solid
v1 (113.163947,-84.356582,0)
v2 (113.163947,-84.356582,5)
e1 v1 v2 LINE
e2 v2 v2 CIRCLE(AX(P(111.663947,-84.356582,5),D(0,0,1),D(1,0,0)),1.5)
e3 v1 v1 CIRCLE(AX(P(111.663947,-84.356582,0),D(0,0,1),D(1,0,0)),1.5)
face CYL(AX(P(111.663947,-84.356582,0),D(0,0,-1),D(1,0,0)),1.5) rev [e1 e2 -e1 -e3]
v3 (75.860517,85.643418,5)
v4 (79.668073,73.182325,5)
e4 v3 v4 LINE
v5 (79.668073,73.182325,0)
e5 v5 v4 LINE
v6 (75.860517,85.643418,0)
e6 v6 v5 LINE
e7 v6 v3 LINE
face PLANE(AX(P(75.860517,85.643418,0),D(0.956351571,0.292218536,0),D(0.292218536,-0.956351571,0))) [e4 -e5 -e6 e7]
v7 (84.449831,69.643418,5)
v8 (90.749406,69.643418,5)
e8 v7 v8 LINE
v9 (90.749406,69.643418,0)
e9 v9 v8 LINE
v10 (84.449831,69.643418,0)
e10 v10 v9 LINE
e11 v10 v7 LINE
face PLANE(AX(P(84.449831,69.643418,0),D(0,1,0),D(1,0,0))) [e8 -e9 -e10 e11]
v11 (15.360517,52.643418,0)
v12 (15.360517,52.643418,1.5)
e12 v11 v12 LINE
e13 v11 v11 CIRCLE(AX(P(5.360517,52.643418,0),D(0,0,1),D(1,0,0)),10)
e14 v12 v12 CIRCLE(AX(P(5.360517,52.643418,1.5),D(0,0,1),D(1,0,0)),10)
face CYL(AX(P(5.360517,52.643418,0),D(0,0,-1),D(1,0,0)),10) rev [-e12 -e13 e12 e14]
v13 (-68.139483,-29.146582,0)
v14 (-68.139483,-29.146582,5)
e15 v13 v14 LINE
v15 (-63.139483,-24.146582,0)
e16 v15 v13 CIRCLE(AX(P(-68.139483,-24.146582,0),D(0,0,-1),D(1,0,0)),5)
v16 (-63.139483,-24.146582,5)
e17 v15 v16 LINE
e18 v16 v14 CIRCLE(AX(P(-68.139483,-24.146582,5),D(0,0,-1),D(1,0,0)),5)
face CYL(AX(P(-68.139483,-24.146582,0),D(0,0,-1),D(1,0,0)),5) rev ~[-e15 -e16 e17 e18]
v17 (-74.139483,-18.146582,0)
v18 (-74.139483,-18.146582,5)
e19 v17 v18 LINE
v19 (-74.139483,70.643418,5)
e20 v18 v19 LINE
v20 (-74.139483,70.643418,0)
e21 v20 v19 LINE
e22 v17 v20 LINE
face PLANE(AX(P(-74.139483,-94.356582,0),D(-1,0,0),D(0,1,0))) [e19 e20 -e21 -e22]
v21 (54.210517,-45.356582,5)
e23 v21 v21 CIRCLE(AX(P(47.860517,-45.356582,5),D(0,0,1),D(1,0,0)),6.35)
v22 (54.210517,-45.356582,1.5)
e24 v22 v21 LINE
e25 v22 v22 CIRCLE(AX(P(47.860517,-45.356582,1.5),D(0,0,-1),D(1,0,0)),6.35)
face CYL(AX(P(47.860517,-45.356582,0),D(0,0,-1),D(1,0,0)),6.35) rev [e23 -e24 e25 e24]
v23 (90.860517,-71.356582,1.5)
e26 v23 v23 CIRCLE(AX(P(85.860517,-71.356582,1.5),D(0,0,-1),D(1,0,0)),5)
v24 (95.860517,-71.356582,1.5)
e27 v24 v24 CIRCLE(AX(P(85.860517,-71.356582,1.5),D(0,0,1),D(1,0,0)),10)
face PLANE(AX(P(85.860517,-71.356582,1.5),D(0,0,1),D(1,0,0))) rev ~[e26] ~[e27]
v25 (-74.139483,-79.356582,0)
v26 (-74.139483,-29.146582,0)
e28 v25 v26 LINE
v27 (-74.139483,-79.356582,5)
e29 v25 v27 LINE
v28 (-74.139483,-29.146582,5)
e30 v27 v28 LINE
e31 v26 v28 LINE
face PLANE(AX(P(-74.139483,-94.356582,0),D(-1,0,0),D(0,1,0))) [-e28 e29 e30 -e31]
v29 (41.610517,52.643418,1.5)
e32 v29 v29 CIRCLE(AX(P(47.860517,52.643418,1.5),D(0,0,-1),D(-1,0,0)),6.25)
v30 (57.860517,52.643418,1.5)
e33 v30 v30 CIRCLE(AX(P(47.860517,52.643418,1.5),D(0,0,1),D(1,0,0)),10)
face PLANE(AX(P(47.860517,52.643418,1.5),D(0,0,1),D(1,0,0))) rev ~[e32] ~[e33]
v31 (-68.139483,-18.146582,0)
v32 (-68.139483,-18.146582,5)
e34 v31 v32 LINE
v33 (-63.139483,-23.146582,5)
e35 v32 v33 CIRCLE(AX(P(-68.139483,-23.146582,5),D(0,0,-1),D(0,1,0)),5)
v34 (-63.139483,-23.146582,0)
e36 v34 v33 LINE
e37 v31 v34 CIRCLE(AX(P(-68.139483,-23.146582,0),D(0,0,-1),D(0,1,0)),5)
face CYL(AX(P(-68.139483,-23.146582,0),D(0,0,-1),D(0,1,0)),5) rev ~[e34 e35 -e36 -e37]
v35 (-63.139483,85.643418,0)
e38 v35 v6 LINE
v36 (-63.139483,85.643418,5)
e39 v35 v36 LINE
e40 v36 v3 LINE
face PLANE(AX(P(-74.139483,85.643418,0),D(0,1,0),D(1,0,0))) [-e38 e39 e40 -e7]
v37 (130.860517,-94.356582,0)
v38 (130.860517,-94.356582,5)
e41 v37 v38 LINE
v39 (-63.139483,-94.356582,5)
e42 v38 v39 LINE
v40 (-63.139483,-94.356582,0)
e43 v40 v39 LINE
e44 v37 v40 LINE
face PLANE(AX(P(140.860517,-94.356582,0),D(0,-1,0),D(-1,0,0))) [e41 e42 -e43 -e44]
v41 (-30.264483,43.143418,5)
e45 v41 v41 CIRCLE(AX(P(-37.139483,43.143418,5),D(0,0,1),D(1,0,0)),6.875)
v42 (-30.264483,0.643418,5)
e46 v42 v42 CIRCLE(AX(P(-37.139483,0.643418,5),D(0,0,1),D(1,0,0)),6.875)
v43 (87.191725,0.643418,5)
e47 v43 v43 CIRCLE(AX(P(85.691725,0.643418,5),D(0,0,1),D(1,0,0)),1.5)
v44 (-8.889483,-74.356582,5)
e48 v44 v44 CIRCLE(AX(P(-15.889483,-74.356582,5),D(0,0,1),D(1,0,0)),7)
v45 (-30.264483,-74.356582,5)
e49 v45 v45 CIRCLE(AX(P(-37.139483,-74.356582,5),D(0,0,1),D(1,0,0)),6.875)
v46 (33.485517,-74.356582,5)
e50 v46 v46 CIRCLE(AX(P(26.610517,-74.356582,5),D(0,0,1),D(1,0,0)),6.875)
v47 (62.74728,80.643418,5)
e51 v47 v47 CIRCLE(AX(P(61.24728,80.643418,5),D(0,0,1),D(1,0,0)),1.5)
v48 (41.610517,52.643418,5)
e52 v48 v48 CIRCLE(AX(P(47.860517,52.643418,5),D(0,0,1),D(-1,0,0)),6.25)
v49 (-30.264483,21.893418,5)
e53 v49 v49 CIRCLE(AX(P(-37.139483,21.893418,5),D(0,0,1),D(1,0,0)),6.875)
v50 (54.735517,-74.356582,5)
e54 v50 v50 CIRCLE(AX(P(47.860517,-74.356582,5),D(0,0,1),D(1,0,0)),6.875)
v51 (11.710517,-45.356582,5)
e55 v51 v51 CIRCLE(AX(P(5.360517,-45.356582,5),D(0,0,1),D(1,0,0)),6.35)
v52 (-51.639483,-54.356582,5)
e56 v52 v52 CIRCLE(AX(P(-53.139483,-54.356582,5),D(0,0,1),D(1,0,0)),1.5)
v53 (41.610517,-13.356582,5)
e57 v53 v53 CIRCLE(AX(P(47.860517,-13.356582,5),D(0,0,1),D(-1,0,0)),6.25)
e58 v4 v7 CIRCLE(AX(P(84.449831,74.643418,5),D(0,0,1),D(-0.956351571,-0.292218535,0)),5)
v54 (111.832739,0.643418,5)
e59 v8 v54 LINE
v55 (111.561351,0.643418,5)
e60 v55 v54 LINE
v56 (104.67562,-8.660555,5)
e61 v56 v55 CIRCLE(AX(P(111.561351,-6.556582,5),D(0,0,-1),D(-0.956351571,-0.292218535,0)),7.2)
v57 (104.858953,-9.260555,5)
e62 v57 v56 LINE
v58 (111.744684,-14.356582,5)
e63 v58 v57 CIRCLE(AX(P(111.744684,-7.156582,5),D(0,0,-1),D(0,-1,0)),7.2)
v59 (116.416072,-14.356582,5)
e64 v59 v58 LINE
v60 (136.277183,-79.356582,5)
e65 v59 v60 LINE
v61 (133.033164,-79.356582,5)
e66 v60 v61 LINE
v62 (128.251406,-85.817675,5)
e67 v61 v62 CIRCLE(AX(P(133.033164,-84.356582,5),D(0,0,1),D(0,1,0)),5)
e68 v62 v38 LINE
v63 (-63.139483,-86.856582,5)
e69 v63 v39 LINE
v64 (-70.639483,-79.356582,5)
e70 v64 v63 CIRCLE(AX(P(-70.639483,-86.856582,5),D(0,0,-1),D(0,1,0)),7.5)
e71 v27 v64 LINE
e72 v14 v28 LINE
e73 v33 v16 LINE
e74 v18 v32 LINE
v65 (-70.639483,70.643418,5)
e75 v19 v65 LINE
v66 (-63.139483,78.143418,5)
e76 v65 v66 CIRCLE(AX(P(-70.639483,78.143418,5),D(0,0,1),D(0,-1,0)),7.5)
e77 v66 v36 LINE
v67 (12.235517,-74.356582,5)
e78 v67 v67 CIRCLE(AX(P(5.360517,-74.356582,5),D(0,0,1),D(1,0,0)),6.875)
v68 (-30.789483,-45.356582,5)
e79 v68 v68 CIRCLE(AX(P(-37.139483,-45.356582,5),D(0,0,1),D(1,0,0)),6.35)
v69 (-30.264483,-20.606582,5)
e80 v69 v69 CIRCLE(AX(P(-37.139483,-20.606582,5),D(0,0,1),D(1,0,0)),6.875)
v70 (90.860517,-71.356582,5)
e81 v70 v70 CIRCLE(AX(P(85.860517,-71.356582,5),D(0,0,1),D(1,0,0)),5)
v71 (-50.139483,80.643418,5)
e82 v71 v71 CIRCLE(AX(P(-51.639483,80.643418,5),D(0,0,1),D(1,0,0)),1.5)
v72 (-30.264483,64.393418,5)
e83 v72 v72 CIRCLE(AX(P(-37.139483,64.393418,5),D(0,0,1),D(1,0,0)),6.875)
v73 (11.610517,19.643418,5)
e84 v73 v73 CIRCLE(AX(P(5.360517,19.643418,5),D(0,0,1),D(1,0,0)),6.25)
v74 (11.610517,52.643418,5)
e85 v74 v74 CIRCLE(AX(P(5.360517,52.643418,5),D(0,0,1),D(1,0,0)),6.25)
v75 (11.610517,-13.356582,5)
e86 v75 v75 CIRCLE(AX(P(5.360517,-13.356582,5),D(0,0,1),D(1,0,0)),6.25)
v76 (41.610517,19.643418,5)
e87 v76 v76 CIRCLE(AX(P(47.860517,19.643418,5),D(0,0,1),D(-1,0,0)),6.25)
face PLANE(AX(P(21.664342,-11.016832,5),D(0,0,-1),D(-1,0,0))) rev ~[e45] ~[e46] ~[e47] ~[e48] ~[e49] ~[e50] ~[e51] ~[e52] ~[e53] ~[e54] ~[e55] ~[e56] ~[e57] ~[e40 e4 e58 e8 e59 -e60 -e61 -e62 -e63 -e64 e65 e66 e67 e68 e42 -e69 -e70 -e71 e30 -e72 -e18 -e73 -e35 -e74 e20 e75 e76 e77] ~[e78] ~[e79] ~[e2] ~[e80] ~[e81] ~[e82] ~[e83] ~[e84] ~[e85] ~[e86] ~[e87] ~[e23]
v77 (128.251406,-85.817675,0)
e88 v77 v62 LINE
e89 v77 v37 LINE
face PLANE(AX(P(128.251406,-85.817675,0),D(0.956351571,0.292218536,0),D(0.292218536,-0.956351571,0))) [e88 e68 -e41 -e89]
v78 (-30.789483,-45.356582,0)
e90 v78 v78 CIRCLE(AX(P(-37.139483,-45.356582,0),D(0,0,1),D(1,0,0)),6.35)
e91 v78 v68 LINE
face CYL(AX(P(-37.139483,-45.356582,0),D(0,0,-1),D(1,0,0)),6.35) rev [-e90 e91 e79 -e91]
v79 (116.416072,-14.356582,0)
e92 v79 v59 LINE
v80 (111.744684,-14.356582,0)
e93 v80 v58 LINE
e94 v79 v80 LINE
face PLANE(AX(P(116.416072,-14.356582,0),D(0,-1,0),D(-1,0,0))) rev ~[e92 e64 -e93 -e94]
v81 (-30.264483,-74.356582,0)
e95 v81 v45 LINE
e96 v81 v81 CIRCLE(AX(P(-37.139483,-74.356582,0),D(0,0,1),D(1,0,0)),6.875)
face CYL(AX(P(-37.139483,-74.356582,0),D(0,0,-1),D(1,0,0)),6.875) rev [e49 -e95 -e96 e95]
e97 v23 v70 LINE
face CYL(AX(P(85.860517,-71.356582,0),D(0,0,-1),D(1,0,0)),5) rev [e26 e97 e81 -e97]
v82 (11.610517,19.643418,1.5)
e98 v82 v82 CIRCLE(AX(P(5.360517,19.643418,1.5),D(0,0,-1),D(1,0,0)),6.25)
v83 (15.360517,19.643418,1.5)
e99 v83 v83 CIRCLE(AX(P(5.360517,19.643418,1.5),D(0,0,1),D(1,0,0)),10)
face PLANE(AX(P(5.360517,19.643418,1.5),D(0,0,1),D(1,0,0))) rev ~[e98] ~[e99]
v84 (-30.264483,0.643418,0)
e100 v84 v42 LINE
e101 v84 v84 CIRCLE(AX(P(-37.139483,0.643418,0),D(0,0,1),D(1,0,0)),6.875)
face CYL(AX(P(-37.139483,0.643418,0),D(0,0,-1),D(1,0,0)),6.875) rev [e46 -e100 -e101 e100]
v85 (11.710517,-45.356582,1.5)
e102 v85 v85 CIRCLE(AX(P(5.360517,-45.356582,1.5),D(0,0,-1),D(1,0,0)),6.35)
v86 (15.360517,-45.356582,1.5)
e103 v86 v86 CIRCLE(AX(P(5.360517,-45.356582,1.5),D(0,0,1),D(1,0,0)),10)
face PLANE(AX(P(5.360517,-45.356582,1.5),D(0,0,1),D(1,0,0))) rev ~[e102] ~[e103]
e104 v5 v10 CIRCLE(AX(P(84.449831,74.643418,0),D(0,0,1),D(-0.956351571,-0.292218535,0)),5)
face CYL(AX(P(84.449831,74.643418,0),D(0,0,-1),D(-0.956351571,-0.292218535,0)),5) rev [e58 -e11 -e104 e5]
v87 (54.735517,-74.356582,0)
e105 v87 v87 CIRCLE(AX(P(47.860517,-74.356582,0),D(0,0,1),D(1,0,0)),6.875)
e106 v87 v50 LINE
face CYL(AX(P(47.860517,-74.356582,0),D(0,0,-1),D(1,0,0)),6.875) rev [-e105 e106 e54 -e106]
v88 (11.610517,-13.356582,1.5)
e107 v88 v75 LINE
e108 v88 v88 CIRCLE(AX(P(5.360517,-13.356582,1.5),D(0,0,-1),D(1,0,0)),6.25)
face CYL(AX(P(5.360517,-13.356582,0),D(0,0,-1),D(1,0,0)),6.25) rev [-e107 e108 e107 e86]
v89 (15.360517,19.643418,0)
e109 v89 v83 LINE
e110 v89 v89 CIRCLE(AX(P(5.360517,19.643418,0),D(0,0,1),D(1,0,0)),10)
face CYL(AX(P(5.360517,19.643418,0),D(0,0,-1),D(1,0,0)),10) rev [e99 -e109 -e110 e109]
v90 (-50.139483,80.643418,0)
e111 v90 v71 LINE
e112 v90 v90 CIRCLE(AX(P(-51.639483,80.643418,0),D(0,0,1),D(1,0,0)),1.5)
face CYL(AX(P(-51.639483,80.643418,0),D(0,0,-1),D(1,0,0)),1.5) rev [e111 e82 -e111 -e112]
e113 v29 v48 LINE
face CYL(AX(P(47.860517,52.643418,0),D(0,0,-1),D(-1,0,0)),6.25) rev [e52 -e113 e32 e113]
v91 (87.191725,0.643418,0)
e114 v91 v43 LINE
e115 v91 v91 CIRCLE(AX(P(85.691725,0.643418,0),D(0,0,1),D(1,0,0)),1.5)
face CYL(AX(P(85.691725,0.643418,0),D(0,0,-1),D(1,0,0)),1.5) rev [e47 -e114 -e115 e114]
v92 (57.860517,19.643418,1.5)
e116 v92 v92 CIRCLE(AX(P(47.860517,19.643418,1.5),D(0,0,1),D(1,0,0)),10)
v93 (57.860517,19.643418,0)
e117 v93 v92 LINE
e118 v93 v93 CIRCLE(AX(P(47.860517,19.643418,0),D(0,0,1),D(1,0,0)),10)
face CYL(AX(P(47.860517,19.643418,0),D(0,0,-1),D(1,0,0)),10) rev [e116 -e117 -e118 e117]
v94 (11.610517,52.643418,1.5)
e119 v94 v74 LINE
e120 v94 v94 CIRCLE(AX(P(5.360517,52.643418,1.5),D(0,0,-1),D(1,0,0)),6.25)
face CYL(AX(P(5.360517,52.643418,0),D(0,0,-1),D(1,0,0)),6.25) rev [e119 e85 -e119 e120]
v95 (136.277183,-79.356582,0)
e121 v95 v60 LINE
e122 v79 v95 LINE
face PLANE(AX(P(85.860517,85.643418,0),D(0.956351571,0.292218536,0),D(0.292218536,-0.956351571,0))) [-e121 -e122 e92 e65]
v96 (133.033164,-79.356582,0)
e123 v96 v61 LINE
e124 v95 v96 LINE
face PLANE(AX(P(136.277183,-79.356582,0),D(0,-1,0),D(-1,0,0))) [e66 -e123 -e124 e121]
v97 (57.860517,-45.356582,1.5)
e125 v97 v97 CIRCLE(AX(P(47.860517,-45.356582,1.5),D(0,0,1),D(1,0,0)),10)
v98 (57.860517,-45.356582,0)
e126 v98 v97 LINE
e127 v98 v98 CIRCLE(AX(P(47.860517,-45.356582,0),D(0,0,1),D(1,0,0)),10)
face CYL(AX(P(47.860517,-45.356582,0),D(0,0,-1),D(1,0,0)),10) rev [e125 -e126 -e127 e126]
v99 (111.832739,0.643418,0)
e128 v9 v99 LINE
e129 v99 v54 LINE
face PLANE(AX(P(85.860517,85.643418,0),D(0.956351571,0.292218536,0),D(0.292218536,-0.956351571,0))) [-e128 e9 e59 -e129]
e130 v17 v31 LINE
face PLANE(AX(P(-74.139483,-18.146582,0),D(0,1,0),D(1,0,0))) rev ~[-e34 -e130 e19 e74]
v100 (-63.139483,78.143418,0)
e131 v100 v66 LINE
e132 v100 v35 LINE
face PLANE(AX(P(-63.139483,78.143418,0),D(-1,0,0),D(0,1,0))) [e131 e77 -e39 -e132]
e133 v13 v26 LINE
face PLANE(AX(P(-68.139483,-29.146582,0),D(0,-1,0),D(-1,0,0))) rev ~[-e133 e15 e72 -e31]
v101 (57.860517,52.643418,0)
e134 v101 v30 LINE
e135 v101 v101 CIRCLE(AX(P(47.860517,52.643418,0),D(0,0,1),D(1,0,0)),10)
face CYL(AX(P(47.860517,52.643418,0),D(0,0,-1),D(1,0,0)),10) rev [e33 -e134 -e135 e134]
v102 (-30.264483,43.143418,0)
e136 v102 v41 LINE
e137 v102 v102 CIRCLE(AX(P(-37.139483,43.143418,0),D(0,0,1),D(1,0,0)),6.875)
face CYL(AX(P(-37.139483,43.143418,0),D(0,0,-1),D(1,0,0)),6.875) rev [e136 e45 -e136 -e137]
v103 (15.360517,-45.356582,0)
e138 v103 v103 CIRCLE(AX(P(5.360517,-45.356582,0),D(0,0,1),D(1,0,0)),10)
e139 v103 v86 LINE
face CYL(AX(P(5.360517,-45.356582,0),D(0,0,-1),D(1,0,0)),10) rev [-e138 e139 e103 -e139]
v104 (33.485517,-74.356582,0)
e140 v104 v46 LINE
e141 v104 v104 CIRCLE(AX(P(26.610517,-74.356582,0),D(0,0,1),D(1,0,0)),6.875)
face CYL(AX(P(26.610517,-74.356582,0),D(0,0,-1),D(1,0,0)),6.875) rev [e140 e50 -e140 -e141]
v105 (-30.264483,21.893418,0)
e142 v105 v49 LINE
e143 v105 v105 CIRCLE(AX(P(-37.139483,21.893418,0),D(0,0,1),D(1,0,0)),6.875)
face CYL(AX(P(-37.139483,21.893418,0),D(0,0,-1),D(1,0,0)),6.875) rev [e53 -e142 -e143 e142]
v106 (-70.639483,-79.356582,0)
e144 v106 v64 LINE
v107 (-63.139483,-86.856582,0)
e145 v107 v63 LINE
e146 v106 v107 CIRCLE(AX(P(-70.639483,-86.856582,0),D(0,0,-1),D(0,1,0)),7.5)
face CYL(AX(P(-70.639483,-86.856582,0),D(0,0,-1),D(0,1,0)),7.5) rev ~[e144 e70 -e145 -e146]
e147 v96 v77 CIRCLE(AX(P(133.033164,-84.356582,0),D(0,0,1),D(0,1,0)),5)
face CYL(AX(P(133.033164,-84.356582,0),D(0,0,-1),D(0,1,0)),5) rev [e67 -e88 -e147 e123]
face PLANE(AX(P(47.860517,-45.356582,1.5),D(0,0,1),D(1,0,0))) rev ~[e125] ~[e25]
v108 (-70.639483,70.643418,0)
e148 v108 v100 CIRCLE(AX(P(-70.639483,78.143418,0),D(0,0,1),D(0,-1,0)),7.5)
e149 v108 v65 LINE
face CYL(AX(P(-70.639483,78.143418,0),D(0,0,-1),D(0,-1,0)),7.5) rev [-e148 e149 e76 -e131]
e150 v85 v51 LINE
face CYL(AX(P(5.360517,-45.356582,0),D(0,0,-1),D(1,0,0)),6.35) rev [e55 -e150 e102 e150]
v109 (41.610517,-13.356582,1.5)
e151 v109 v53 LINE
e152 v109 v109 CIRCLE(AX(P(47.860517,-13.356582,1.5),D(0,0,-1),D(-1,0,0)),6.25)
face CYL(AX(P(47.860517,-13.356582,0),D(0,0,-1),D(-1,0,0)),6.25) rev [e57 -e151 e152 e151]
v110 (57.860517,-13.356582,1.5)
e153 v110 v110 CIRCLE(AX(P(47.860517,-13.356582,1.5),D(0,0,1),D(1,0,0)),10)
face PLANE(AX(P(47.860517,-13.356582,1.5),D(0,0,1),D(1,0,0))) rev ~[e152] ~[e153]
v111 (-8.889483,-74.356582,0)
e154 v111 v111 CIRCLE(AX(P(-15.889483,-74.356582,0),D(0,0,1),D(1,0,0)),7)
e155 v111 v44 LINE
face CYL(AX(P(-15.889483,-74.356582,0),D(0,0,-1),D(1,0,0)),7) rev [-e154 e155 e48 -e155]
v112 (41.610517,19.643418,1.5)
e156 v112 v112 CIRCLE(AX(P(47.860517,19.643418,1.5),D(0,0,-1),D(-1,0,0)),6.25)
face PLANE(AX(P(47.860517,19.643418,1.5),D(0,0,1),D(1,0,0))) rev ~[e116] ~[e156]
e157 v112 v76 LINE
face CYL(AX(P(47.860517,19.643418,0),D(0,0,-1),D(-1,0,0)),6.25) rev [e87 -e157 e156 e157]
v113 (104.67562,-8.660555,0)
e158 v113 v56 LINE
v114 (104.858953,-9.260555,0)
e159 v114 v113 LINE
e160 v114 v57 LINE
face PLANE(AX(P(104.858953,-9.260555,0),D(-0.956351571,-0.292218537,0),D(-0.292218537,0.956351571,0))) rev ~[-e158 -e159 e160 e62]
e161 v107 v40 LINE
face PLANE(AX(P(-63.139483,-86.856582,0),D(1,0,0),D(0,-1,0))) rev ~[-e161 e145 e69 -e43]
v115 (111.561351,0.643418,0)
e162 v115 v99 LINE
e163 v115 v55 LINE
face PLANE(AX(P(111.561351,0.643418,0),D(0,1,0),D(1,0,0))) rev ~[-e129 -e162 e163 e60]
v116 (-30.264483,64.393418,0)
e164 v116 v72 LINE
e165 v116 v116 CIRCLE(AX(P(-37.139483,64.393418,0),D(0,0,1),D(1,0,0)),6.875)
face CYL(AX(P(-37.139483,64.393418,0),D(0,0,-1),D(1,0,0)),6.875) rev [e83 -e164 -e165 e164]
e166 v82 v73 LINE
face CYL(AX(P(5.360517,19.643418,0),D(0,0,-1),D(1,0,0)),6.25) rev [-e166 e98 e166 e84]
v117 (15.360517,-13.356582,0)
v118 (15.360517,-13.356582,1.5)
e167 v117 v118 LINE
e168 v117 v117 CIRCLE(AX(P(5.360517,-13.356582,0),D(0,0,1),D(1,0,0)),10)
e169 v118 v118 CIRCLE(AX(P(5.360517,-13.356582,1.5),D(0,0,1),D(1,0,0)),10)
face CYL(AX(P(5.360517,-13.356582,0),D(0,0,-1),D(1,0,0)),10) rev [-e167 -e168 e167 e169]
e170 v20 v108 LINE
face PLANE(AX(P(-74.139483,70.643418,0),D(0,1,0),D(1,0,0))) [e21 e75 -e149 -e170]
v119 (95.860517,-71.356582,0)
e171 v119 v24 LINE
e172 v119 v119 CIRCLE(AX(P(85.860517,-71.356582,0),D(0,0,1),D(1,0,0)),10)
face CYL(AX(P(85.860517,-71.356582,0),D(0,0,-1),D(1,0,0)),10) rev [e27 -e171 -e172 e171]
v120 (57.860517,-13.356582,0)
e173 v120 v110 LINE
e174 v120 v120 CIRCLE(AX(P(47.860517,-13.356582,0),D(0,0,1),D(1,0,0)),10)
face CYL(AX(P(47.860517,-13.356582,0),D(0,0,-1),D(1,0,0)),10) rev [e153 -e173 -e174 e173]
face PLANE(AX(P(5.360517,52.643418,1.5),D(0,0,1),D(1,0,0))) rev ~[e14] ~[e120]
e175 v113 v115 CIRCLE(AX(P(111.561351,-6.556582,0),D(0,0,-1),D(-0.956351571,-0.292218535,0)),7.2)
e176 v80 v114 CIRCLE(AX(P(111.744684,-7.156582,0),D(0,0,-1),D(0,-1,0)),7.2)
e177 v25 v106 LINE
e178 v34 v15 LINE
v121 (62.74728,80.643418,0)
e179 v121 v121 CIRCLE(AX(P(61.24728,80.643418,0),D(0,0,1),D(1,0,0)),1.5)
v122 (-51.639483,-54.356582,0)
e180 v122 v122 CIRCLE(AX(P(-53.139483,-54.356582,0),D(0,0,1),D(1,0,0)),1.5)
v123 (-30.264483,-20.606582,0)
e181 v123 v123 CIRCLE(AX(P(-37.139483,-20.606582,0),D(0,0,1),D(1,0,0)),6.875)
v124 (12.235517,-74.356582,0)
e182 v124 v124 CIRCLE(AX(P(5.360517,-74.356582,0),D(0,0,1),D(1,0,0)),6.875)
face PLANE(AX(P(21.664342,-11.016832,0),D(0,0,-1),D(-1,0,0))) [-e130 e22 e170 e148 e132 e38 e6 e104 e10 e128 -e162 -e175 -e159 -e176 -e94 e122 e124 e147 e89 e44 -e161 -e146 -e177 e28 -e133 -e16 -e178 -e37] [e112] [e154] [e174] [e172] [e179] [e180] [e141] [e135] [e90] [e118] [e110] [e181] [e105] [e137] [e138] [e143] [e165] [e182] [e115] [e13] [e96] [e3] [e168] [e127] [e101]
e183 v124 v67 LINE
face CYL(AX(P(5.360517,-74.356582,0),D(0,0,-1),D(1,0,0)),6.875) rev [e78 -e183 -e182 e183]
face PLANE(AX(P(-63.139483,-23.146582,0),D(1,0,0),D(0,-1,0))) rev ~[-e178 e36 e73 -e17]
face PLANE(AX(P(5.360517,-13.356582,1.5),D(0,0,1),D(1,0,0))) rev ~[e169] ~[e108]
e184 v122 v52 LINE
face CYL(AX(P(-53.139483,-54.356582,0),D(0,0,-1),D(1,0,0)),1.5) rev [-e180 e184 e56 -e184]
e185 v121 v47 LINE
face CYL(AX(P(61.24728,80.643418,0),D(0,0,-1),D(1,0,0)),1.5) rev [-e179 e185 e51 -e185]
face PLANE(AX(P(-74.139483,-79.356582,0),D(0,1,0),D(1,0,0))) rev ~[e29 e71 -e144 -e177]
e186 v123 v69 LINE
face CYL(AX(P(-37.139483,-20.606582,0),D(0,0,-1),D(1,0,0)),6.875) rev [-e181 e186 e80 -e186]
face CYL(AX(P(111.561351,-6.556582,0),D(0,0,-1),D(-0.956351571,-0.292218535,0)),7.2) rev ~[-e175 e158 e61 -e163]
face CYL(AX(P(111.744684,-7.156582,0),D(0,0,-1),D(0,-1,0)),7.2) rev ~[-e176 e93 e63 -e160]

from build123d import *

# Parameters (mm, degrees)
SKETCH1_R           = 6.875
SKETCH1_R_2         = 6.25
SKETCH1_R_3         = 6.35
SKETCH1_R_4         = 7
SKETCH1_R_5         = 5
SKETCH1_R_6         = 1.5
BOSS_EXTRUDE1_DEPTH = 5
CUT_EXTRUDE1_START  = -5
SKETCH6_R           = 10
CUT_EXTRUDE1_DEPTH  = 1.5
CUT_EXTRUDE2_DEPTH  = 5


with BuildPart() as part:
    # Sketch1 → Boss-Extrude1 (new body)
    with BuildSketch(Plane.XY):
        Polygon((-74.139483312, 85.643418081), (85.860516688, 85.643418081), (140.860516688, -94.356581919), (-74.139483312, -94.356581919), align=None)
        with Locations((-37.139483312, 64.393418081)):
            Circle(SKETCH1_R, mode=Mode.SUBTRACT)
        with Locations((-37.139483312, 43.143418081)):
            Circle(SKETCH1_R, mode=Mode.SUBTRACT)
        with Locations((-37.139483312, 21.893418081)):
            Circle(SKETCH1_R, mode=Mode.SUBTRACT)
        with Locations((-37.139483312, 0.643418081)):
            Circle(SKETCH1_R, mode=Mode.SUBTRACT)
        with Locations((-37.139483312, -20.606581919)):
            Circle(SKETCH1_R, mode=Mode.SUBTRACT)
        with Locations((5.360516688, 52.643418081)):
            Circle(SKETCH1_R_2, mode=Mode.SUBTRACT)
        with Locations((5.360516688, 19.643418081)):
            Circle(SKETCH1_R_2, mode=Mode.SUBTRACT)
        with Locations((5.360516688, -13.356581919)):
            Circle(SKETCH1_R_2, mode=Mode.SUBTRACT)
        with Locations(Location((47.860516688, -13.356581919, 0), (0, 0, 180))):
            Circle(SKETCH1_R_2, mode=Mode.SUBTRACT)
        with Locations(Location((47.860516688, 19.643418081, 0), (0, 0, 180))):
            Circle(SKETCH1_R_2, mode=Mode.SUBTRACT)
        with Locations(Location((47.860516688, 52.643418081, 0), (0, 0, 180))):
            Circle(SKETCH1_R_2, mode=Mode.SUBTRACT)
        with Locations((-37.139483312, -45.356581919)):
            Circle(SKETCH1_R_3, mode=Mode.SUBTRACT)
        with Locations((5.360516688, -45.356581919)):
            Circle(SKETCH1_R_3, mode=Mode.SUBTRACT)
        with Locations((47.860516688, -45.356581919)):
            Circle(SKETCH1_R_3, mode=Mode.SUBTRACT)
        with Locations((-37.139483312, -74.356581919)):
            Circle(SKETCH1_R, mode=Mode.SUBTRACT)
        with Locations((-15.889483312, -74.356581919)):
            Circle(SKETCH1_R_4, mode=Mode.SUBTRACT)
        with Locations((5.360516688, -74.356581919)):
            Circle(SKETCH1_R, mode=Mode.SUBTRACT)
        with Locations((26.610516688, -74.356581919)):
            Circle(SKETCH1_R, mode=Mode.SUBTRACT)
        with Locations((47.860516688, -74.356581919)):
            Circle(SKETCH1_R, mode=Mode.SUBTRACT)
        with Locations((85.860516688, -71.356581919)):
            Circle(SKETCH1_R_5, mode=Mode.SUBTRACT)
        with Locations((-51.639483312, 80.643418081)):
            Circle(SKETCH1_R_6, mode=Mode.SUBTRACT)
        with Locations((61.247280265, 80.643418081)):
            Circle(SKETCH1_R_6, mode=Mode.SUBTRACT)
        with Locations((85.691724709, 0.643418081)):
            Circle(SKETCH1_R_6, mode=Mode.SUBTRACT)
        with Locations((111.663946931, -84.356581919)):
            Circle(SKETCH1_R_6, mode=Mode.SUBTRACT)
        with Locations((-53.139483312, -54.356581919)):
            Circle(SKETCH1_R_6, mode=Mode.SUBTRACT)
    extrude(amount=BOSS_EXTRUDE1_DEPTH)

    # Sketch6 → Cut-Extrude1 (cut)
    with BuildSketch(Plane.XY.offset(5).offset(CUT_EXTRUDE1_START)):
        with Locations((5.360516688, 52.643418081)):
            Circle(SKETCH6_R)
        with Locations((47.860516688, 52.643418081)):
            Circle(SKETCH6_R)
        with Locations((47.860516688, -45.356581919)):
            Circle(SKETCH6_R)
        with Locations((47.860516688, -13.356581919)):
            Circle(SKETCH6_R)
        with Locations((47.860516688, 19.643418081)):
            Circle(SKETCH6_R)
        with Locations((5.360516688, 19.643418081)):
            Circle(SKETCH6_R)
        with Locations((5.360516688, -13.356581919)):
            Circle(SKETCH6_R)
        with Locations((5.360516688, -45.356581919)):
            Circle(SKETCH6_R)
        with Locations((85.860516688, -71.356581919)):
            Circle(SKETCH6_R)
    extrude(amount=CUT_EXTRUDE1_DEPTH, mode=Mode.SUBTRACT)

    # Sketch3 → Cut-Extrude2 (cut)
    with BuildSketch(Plane.XY):
        with BuildLine():
            Line((-74.139483312, 70.643418081), (-70.639483312, 70.643418081))
            ThreePointArc((-70.639483312, 70.643418081), (-65.336182453, 72.840117222), (-63.139483312, 78.143418081))
            Line((-63.139483312, 78.143418081), (-63.139483312, 85.643418081))
            Line((-63.139483312, 85.643418081), (-74.139483312, 85.643418081))
            Line((-74.139483312, 85.643418081), (-74.139483312, 70.643418081))
        make_face()
        with BuildLine():
            Line((136.277183355, -79.356581919), (133.033163973, -79.356581919))
            ThreePointArc((133.033163973, -79.356581919), (129.014117855, -81.382146123), (128.251406117, -85.817674597))
            Line((128.251406117, -85.817674597), (130.860516688, -94.356581919))
            Line((130.860516688, -94.356581919), (140.860516688, -94.356581919))
            Line((140.860516688, -94.356581919), (136.277183355, -79.356581919))
        make_face()
        with BuildLine():
            Line((75.860516688, 85.643418081), (79.668072784, 73.182325403))
            ThreePointArc((79.668072784, 73.182325403), (81.475394843, 70.624371963), (84.449830639, 69.643418081))
            Line((84.449830639, 69.643418081), (90.749405577, 69.643418081))
            Line((90.749405577, 69.643418081), (85.860516688, 85.643418081))
            Line((85.860516688, 85.643418081), (75.860516688, 85.643418081))
        make_face()
        with BuildLine():
            Line((-74.139483312, -79.356581919), (-70.639483312, -79.356581919))
            ThreePointArc((-70.639483312, -79.356581919), (-65.336182453, -81.553281061), (-63.139483312, -86.856581919))
            Line((-63.139483312, -86.856581919), (-63.139483312, -94.356581919))
            Line((-63.139483312, -94.356581919), (-74.139483312, -94.356581919))
            Line((-74.139483312, -94.356581919), (-74.139483312, -79.356581919))
        make_face()
        with BuildLine():
            Line((-74.139483312, -18.146581919), (-68.139483312, -18.146581919))
            ThreePointArc((-68.139483312, -18.146581919), (-64.603949406, -19.611048014), (-63.139483312, -23.146581919))
            Line((-63.139483312, -23.146581919), (-63.139483312, -24.146581919))
            ThreePointArc((-63.139483312, -24.146581919), (-64.603949406, -27.682115825), (-68.139483312, -29.146581919))
            Line((-68.139483312, -29.146581919), (-74.139483312, -29.146581919))
            Line((-74.139483312, -29.146581919), (-74.139483312, -18.146581919))
        make_face()
        with BuildLine():
            Line((111.83273891, 0.643418081), (116.416072243, -14.356581919))
            Line((116.416072243, -14.356581919), (111.744684333, -14.356581919))
            ThreePointArc((111.744684333, -14.356581919), (107.461496787, -12.944008329), (104.858953022, -9.260555376))
            Line((104.858953022, -9.260555376), (104.675619688, -8.660555376))
            ThreePointArc((104.675619688, -8.660555376), (105.773924591, -2.273394373), (111.561351, 0.643418081))
            Line((111.561351, 0.643418081), (111.83273891, 0.643418081))
        make_face()
    extrude(amount=CUT_EXTRUDE2_DEPTH, mode=Mode.SUBTRACT)


solid = part.part
